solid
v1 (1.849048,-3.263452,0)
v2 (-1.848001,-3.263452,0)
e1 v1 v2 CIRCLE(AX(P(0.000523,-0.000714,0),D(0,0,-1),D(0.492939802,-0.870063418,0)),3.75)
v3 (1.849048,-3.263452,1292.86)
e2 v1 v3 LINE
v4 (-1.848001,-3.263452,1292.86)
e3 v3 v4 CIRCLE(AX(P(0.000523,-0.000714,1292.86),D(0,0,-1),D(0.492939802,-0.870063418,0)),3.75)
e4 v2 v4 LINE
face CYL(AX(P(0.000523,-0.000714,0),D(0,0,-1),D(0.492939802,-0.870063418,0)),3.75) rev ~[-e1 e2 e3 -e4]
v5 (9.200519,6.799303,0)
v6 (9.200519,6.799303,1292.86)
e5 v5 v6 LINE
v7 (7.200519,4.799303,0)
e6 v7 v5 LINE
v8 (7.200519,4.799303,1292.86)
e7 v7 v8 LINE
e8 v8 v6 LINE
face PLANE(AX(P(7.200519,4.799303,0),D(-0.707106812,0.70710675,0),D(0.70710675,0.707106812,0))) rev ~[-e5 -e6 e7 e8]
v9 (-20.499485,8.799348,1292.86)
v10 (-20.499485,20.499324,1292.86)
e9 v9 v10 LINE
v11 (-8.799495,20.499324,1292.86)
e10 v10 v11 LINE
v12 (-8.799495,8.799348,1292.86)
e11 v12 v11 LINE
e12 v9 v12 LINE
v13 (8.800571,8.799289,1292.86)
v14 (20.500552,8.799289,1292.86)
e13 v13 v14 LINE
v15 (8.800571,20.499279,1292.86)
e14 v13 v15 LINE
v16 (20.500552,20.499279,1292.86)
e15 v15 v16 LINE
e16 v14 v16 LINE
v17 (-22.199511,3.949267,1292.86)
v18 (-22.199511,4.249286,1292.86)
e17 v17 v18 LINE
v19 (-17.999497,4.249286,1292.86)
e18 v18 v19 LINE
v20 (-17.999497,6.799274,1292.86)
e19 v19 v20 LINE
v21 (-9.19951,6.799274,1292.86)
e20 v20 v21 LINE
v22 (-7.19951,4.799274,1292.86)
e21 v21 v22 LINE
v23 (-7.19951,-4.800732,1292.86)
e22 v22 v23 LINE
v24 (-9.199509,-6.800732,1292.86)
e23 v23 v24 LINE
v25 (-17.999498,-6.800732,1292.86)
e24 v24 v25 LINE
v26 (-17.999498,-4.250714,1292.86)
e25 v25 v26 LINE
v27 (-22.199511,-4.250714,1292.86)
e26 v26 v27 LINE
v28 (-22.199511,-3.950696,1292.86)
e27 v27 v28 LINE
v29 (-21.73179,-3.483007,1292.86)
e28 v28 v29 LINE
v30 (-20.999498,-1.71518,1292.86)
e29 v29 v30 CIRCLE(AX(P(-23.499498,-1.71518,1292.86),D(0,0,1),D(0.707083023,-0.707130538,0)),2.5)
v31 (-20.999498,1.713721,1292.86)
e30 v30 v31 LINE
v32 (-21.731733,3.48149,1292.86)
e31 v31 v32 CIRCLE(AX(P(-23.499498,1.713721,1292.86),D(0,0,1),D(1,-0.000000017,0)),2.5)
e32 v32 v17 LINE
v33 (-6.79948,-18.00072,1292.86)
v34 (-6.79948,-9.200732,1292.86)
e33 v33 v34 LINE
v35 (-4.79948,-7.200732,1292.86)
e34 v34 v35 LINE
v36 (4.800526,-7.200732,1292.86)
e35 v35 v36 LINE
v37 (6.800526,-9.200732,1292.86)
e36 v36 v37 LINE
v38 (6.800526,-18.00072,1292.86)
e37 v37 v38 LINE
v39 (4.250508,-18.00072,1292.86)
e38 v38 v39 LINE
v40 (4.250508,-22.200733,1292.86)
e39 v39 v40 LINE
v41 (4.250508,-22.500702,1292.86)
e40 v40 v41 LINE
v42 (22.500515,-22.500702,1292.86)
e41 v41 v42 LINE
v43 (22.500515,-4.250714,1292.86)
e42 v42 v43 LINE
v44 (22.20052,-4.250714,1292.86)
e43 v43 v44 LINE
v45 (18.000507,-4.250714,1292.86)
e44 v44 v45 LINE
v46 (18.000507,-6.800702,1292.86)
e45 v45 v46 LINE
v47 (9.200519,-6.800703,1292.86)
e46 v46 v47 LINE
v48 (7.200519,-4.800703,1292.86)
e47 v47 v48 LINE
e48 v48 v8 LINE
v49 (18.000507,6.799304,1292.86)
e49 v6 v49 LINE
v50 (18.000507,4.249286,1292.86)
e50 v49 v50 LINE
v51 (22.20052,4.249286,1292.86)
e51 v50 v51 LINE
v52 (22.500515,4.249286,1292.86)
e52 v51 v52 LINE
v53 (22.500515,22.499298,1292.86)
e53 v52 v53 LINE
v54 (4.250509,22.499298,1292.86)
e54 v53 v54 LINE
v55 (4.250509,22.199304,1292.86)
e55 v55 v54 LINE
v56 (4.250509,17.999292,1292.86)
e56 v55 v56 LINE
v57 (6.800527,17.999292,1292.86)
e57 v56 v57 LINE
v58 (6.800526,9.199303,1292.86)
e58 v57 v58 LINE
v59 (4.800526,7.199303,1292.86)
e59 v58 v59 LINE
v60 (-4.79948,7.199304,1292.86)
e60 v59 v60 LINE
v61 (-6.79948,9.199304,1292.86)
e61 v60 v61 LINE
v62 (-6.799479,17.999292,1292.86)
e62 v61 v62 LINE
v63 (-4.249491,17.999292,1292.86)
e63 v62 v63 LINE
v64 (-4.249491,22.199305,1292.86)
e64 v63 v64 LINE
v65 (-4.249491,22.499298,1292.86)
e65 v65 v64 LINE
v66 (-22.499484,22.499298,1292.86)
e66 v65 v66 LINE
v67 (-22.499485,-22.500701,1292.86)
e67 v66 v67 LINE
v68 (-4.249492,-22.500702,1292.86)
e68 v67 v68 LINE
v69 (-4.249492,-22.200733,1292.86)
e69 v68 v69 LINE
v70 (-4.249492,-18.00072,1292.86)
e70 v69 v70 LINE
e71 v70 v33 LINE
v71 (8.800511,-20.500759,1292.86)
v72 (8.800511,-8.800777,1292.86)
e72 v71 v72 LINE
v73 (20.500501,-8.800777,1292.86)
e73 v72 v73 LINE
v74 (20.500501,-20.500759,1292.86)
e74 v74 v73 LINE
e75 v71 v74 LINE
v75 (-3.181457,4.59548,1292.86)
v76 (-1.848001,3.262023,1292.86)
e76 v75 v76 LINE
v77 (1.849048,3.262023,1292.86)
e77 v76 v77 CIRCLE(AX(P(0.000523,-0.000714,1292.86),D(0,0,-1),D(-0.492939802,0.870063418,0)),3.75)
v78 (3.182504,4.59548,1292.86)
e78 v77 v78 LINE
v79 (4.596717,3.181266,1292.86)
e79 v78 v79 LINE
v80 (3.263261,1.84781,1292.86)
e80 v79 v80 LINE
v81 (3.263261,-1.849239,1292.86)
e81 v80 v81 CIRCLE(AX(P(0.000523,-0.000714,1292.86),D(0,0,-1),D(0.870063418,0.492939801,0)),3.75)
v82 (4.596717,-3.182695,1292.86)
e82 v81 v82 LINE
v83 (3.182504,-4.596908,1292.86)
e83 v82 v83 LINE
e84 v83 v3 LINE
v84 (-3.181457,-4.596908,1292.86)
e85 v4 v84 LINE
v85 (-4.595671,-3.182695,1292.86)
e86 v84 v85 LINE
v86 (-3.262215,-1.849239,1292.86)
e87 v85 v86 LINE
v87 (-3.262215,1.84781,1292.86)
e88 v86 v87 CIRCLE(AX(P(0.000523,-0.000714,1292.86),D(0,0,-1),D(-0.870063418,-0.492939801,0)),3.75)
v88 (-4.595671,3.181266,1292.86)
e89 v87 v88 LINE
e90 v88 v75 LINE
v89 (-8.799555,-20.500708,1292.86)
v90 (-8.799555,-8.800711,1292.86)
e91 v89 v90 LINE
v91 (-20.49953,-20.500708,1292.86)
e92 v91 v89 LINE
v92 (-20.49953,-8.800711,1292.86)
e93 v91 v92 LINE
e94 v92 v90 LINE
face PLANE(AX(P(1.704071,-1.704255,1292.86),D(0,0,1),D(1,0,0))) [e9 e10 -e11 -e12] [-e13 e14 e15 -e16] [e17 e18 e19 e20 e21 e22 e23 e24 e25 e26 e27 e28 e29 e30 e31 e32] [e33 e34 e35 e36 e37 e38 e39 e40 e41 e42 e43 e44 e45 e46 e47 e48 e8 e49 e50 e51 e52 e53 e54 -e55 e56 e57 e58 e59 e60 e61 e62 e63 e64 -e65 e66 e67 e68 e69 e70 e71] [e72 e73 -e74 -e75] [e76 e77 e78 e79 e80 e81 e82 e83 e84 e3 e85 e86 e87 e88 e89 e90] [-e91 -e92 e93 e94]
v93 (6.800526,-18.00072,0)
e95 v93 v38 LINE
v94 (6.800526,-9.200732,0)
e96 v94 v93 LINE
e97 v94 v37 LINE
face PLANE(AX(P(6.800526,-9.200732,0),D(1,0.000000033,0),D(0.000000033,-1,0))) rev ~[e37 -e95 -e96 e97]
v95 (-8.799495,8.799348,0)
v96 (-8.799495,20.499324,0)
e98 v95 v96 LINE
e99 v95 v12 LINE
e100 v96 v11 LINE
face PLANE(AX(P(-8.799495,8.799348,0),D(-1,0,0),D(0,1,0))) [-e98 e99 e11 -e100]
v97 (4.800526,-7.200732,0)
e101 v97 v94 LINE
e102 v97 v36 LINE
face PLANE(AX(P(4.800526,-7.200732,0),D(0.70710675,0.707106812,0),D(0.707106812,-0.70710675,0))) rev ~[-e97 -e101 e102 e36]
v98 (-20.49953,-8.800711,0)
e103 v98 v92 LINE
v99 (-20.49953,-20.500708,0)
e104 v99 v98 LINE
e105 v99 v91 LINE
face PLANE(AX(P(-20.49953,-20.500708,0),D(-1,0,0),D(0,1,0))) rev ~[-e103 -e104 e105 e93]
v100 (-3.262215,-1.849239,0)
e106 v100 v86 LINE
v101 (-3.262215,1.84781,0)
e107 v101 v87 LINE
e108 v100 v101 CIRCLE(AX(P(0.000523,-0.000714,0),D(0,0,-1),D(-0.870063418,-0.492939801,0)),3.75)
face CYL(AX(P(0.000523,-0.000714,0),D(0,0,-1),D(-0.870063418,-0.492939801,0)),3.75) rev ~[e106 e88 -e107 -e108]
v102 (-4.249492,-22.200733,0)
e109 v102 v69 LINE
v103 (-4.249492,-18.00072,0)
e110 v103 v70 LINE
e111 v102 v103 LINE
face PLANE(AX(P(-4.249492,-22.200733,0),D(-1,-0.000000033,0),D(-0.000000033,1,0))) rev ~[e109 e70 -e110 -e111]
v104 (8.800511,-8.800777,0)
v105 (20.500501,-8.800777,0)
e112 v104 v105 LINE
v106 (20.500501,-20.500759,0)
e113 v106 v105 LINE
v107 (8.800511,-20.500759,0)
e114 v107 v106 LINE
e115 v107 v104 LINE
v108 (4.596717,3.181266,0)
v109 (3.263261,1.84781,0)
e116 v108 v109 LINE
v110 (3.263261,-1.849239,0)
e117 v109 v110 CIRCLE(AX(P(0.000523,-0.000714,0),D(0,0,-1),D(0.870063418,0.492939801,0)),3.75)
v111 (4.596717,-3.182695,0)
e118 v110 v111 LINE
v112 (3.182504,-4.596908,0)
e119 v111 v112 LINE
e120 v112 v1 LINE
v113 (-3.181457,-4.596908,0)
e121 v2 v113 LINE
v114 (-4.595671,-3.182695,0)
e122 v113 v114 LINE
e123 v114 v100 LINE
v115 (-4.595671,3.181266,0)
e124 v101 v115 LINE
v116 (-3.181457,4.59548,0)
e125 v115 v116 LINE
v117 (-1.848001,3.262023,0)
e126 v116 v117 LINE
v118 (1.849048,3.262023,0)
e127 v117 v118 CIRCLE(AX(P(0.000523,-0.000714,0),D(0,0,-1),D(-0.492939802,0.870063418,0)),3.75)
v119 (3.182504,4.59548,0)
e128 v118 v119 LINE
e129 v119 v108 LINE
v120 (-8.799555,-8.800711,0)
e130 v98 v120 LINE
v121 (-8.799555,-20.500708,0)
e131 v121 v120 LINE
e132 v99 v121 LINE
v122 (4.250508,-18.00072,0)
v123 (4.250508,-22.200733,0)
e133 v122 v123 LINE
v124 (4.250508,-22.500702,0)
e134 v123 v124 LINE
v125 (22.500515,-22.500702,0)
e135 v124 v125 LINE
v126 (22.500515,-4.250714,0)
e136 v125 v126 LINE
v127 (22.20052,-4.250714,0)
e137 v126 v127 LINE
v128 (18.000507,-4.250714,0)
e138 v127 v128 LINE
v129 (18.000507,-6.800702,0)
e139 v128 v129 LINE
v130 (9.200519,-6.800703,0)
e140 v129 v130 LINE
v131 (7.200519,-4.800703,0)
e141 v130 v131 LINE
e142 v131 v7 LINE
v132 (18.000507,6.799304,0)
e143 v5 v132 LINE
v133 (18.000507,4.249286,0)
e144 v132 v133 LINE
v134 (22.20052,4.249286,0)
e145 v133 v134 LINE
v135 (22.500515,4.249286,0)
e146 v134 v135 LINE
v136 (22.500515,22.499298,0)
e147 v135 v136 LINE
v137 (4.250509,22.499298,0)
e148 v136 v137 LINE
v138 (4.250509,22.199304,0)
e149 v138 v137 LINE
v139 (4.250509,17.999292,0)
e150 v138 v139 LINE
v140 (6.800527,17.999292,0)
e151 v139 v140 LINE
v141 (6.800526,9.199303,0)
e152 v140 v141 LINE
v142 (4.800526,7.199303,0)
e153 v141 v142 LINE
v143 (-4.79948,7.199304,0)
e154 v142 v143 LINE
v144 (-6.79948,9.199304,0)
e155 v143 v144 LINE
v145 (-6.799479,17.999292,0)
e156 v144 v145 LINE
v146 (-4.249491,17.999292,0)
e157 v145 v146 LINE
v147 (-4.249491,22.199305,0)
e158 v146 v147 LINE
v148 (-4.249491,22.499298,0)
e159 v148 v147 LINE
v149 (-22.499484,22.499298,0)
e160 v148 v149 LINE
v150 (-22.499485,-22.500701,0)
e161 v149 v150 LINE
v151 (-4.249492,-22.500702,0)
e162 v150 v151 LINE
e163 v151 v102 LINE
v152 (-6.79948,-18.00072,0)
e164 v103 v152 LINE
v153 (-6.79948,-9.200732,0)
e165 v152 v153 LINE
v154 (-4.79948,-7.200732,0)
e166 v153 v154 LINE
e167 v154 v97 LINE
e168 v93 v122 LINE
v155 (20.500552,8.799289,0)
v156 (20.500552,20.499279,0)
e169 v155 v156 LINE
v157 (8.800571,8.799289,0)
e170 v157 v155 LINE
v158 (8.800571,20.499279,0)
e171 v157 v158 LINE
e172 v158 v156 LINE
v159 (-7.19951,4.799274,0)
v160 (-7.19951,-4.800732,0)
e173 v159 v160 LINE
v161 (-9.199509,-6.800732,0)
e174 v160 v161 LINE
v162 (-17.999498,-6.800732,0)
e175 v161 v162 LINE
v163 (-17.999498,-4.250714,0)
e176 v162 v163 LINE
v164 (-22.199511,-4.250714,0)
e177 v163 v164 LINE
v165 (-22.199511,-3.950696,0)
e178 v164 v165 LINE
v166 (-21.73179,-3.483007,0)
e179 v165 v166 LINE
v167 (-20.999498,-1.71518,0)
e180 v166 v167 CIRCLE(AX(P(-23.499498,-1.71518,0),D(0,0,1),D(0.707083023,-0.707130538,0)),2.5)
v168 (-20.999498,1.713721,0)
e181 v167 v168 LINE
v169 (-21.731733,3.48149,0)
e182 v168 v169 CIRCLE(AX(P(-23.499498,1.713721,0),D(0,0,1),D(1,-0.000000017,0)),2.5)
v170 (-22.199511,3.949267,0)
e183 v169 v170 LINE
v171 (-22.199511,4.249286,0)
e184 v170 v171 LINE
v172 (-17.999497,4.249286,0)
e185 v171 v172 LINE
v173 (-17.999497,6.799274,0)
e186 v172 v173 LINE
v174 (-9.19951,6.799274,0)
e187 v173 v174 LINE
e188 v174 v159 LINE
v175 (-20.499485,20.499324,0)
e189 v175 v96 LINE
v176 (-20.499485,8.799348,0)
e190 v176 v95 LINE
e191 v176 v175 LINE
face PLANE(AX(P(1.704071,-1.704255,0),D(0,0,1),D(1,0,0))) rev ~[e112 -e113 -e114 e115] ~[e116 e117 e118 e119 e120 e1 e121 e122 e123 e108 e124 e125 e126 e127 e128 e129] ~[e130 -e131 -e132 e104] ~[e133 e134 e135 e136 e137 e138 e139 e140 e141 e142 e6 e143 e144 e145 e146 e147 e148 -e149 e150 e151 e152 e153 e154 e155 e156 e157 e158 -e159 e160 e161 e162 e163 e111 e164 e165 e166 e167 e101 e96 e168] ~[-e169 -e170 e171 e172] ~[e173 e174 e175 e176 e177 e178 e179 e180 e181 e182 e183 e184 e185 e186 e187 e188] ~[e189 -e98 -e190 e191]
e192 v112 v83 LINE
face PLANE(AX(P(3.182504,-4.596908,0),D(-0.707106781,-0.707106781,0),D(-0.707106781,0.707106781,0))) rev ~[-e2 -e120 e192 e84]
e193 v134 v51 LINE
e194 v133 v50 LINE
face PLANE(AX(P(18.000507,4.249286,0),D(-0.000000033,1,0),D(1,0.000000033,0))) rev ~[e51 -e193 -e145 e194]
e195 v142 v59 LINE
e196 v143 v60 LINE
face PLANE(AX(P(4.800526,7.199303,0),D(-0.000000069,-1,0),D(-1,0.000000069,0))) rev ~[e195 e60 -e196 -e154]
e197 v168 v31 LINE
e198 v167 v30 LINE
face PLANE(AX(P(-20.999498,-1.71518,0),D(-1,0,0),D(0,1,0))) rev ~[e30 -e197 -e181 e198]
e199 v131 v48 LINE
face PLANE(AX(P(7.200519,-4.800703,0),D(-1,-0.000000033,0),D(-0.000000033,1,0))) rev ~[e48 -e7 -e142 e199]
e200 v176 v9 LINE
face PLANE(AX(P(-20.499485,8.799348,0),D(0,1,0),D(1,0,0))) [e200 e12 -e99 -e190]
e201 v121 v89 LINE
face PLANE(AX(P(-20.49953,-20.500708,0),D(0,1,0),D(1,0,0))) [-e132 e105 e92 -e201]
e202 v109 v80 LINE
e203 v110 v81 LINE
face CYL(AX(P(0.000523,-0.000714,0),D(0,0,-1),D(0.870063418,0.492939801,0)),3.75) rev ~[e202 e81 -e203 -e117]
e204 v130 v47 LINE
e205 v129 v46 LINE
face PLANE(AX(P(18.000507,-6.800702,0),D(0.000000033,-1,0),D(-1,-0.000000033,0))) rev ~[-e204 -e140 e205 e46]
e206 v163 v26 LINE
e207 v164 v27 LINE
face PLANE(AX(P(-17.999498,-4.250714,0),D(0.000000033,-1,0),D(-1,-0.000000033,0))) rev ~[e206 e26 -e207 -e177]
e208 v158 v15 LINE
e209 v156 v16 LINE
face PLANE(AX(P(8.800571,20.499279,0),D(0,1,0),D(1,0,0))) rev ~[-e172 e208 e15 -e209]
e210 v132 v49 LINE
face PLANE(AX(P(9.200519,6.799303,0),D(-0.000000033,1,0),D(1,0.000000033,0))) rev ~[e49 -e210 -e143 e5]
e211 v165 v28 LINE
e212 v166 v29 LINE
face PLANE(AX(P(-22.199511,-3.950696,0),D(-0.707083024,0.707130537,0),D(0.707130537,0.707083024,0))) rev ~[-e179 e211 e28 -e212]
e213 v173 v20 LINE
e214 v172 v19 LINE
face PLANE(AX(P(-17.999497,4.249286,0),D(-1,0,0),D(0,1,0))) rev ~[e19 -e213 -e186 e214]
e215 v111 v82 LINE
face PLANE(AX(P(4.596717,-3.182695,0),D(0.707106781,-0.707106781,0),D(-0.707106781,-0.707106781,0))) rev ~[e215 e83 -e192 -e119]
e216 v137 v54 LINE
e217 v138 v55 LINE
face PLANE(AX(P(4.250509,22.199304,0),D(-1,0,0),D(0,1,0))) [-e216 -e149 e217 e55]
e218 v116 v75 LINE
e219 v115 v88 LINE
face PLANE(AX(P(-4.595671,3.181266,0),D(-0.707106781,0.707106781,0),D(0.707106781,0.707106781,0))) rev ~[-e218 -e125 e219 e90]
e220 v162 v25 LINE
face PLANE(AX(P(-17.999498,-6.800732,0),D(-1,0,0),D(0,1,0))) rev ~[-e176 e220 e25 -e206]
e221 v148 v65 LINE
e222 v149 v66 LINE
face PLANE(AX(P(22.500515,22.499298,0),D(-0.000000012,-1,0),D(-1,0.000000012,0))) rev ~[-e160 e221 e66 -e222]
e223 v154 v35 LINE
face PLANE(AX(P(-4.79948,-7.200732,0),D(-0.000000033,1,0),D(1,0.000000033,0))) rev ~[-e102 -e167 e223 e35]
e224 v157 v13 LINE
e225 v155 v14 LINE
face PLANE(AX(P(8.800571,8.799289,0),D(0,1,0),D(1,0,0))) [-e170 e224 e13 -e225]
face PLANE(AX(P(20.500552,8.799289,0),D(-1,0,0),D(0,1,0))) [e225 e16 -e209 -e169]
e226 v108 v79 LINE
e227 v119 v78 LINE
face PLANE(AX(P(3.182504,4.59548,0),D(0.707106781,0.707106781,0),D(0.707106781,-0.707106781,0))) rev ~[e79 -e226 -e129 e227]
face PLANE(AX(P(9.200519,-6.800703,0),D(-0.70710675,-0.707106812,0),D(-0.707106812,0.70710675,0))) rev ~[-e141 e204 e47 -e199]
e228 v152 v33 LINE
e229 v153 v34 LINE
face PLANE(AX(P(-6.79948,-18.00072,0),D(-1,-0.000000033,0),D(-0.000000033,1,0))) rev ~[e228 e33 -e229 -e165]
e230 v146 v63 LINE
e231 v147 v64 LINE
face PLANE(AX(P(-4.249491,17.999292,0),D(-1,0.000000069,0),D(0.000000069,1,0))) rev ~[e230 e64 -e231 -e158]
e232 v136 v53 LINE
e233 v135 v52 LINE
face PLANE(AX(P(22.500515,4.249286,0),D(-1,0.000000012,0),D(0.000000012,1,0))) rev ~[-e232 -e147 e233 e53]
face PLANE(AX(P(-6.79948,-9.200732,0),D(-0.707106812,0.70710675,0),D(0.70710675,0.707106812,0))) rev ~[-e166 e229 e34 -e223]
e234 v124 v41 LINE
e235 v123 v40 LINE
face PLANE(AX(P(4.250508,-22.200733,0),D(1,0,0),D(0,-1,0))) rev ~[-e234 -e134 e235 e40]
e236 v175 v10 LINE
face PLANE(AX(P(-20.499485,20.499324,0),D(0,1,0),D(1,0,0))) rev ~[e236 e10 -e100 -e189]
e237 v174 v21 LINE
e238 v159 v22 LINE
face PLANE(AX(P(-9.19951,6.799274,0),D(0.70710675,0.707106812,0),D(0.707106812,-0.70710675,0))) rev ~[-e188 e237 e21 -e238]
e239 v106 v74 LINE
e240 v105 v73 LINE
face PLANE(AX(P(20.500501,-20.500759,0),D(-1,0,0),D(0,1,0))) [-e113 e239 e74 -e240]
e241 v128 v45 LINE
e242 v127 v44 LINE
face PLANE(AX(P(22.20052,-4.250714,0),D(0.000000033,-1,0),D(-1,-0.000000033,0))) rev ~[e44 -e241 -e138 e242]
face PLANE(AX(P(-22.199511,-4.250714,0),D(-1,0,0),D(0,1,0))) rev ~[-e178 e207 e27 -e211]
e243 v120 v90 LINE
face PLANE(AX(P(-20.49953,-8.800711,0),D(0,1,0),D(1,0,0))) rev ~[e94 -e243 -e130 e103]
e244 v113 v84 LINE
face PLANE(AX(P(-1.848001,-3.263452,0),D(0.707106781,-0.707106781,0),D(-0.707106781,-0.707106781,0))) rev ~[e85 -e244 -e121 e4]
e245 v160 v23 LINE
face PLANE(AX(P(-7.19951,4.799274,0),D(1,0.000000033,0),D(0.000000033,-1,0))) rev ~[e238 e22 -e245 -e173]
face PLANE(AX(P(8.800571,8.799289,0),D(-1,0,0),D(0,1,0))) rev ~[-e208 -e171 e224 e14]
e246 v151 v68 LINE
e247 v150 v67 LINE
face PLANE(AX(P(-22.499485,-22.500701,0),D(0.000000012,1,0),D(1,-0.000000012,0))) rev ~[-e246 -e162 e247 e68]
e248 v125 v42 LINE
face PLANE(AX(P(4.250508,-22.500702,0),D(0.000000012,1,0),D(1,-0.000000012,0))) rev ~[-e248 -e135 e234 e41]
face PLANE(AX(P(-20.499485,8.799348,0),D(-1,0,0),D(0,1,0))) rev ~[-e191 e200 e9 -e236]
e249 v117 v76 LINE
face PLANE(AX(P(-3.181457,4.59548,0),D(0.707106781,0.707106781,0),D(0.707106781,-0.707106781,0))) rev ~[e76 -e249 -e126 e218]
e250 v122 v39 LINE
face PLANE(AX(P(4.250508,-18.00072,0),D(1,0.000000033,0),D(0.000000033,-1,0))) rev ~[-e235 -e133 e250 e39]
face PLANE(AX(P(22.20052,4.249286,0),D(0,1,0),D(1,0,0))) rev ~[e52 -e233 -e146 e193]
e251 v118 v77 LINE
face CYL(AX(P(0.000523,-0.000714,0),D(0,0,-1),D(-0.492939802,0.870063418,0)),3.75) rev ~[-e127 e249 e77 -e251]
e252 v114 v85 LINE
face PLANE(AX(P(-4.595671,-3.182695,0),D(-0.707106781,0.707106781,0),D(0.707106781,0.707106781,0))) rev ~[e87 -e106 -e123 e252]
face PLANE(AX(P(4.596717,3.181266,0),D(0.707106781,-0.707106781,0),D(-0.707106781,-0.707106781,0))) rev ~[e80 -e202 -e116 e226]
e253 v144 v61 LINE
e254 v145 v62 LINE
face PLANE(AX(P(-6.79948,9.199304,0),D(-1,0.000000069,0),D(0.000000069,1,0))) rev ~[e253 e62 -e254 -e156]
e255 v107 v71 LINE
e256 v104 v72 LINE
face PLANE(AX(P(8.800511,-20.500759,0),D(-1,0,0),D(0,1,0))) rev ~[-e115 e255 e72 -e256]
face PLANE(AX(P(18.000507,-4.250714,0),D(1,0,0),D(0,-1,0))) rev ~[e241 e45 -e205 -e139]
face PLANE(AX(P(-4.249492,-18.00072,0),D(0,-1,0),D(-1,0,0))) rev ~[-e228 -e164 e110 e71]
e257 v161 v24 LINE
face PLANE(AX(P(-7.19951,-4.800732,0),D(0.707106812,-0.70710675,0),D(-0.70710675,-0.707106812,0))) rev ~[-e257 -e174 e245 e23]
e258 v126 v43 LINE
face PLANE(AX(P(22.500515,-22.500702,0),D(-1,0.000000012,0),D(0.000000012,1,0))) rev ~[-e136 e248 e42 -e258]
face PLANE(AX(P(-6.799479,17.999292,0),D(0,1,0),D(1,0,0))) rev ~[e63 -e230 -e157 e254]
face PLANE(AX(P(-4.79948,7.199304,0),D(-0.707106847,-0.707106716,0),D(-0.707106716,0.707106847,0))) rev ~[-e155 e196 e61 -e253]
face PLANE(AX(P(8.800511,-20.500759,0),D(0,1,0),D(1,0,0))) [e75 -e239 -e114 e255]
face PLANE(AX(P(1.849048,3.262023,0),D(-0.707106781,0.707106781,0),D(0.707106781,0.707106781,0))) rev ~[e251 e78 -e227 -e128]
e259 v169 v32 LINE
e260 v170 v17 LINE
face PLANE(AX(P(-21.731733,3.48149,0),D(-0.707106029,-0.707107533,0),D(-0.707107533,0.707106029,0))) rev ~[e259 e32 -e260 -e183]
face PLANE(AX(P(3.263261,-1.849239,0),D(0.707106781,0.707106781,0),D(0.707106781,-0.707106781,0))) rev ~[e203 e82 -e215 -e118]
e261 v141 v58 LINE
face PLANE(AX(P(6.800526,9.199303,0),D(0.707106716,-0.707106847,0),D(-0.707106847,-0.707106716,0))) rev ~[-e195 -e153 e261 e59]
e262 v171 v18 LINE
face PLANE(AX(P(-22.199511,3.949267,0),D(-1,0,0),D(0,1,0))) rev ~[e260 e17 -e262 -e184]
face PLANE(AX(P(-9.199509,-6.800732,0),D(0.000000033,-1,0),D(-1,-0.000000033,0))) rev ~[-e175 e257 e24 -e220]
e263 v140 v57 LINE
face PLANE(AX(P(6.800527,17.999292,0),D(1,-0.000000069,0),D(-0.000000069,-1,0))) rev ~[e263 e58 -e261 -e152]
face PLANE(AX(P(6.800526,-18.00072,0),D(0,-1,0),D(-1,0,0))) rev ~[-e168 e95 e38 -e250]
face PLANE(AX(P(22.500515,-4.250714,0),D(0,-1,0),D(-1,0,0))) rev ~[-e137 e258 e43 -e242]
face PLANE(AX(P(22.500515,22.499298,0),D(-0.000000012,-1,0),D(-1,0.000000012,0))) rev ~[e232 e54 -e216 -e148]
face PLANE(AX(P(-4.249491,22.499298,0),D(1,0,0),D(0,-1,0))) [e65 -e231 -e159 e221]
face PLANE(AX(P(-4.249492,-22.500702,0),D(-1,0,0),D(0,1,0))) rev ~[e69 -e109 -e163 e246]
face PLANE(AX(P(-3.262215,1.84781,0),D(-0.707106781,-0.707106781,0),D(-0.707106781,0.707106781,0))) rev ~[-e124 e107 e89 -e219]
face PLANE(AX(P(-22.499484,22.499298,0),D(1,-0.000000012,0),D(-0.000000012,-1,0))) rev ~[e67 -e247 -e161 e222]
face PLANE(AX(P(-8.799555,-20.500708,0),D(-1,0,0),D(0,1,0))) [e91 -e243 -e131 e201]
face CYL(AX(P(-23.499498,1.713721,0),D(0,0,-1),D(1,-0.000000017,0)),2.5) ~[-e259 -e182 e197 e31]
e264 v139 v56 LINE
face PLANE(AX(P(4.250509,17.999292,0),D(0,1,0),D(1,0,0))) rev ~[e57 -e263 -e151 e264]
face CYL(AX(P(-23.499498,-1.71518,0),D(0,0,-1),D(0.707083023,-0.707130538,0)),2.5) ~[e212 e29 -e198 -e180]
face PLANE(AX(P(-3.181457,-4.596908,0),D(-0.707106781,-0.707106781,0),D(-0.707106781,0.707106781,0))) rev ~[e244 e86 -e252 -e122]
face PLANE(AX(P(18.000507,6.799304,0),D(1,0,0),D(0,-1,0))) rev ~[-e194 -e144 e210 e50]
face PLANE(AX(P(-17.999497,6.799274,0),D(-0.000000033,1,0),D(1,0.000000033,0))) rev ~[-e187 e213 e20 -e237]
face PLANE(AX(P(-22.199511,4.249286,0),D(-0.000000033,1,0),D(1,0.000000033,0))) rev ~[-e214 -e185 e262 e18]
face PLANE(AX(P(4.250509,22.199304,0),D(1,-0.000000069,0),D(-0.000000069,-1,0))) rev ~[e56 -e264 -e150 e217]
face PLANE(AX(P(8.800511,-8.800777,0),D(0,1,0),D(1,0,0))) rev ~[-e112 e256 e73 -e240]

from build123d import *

# Parameters (mm, degrees)
SKETCH1_W           = 11.699975178
SKETCH1_H           = 11.699996949
SKETCH1_W_2         = 11.699990436
SKETCH1_H_2         = 11.699981689
SKETCH1_W_3         = 11.699990437
SKETCH1_H_3         = 11.699975177
SKETCH1_W_4         = 11.699981689
SKETCH1_H_4         = 11.699990436
BOSS_EXTRUDE1_DEPTH = 1292.86
CUT_EXTRUDE1_REACH  = 1295.252


with BuildPart() as part:
    # Sketch1 → Boss-Extrude1 (new body)
    with BuildSketch(Plane.XY):
        Polygon((22.500515052, 22.499297556), (-22.499484399, 22.499298105), (-22.499484948, -22.500701346), (-4.249491942, -22.500701568), (-4.249491942, -22.200733242), (-4.24949208, -18.000719999), (-6.799479919, -18.000719999), (-6.799480207, -9.200732353), (-4.799480391, -7.200732362), (4.800525817, -7.200732047), (6.8005258, -9.200731855), (6.800526088, -18.000720263), (4.250507877, -18.000720263), (4.250508015, -22.200733153), (4.250508015, -22.500701672), (22.500514502, -22.500701895), (22.500514725, -4.250714302), (22.200520351, -4.250714302), (18.000507108, -4.25071444), (18.000507108, -6.800702279), (9.200519462, -6.800702567), (7.200519471, -4.800702751), (7.200519156, 4.799303458), (9.200518964, 6.79930344), (18.000507424, 6.799303729), (18.000507424, 4.249285514), (22.200520261, 4.249285652), (22.500514829, 4.249285652), align=None)
        with BuildLine():
            Line((-4.249491247, 17.999291576), (-4.249490956, 22.199304807))
            Line((-4.249490956, 22.199304807), (-3.949472548, 22.199304807))
            Line((-3.949472548, 22.199304807), (-3.481695222, 21.73152644))
            ThreePointArc((-3.481695222, 21.73152644), (-2.670636178, 21.189593132), (-1.713926324, 20.999291428))
            Line((-1.713926324, 20.999291428), (1.714975167, 20.999291428))
            ThreePointArc((1.714975167, 20.999291428), (2.671722509, 21.189608628), (3.482801459, 21.731583767))
            Line((3.482801459, 21.731583767), (3.950490798, 22.199304487))
            Line((3.950490798, 22.199304487), (4.250509108, 22.199304487))
            Line((4.250509108, 22.199304487), (4.250508817, 17.999291575))
            Line((4.250508817, 17.999291575), (6.800527063, 17.999291575))
            Line((6.800527063, 17.999291575), (6.800526453, 9.199302988))
            Line((6.800526453, 9.199302988), (4.800526064, 7.199302969))
            Line((4.800526064, 7.199302969), (-4.799479817, 7.199303635))
            Line((-4.799479817, 7.199303635), (-6.799479854, 9.199304042))
            Line((-6.799479854, 9.199304042), (-6.799479244, 17.999291576))
            Line((-6.799479244, 17.999291576), (-4.249491247, 17.999291576))
        make_face(mode=Mode.SUBTRACT)
        with BuildLine():
            Line((-17.99949762, -4.250714253), (-22.199510799, -4.250714391))
            Line((-22.199510799, -4.250714391), (-22.199510799, -3.950696126))
            Line((-22.199510799, -3.950696126), (-21.731790056, -3.48300681))
            ThreePointArc((-21.731790056, -3.48300681), (-21.189814855, -2.671927844), (-20.999497617, -1.71518046))
            Line((-20.999497617, -1.71518046), (-20.999497617, 1.713721031))
            ThreePointArc((-20.999497617, 1.713721031), (-21.189799286, 2.670430863), (-21.731732544, 3.481489907))
            Line((-21.731732544, 3.481489907), (-22.199510888, 3.949267256))
            Line((-22.199510888, 3.949267256), (-22.199510888, 4.249285566))
            Line((-22.199510888, 4.249285566), (-17.999497356, 4.249285704))
            Line((-17.999497356, 4.249285704), (-17.999497356, 6.79927354))
            Line((-17.999497356, 6.79927354), (-9.199509947, 6.799273828))
            Line((-9.199509947, 6.799273828), (-7.199509956, 4.799274012))
            Line((-7.199509956, 4.799274012), (-7.199509641, -4.800732197))
            Line((-7.199509641, -4.800732197), (-9.199509449, -6.800732179))
            Line((-9.199509449, -6.800732179), (-17.99949762, -6.800732468))
            Line((-17.99949762, -6.800732468), (-17.99949762, -4.250714253))
        make_face(mode=Mode.SUBTRACT)
        with Locations((-14.649542346, -14.650709384)):
            Rectangle(SKETCH1_W, SKETCH1_H, mode=Mode.SUBTRACT)
        with Locations((14.65050626, -14.650767962)):
            Rectangle(SKETCH1_W_2, SKETCH1_H_2, mode=Mode.SUBTRACT)
        with BuildLine():
            Line((-3.181457266, -4.596908447), (-4.595670829, -3.182694885))
            Line((-4.595670829, -3.182694885), (-3.26221457, -1.849238626))
            ThreePointArc((-3.26221457, -1.849238626), (-3.749476751, -0.00071437), (-3.26221457, 1.847809887))
            Line((-3.26221457, 1.847809887), (-4.595670829, 3.181266146))
            Line((-4.595670829, 3.181266146), (-3.181457266, 4.595479708))
            Line((-3.181457266, 4.595479708), (-1.848001007, 3.262023449))
            ThreePointArc((-1.848001007, 3.262023449), (0.000523249, 3.74928563), (1.849047505, 3.262023449))
            Line((1.849047505, 3.262023449), (3.182503764, 4.595479708))
            Line((3.182503764, 4.595479708), (4.596717327, 3.181266146))
            Line((4.596717327, 3.181266146), (3.263261068, 1.847809887))
            ThreePointArc((3.263261068, 1.847809887), (3.750523249, -0.00071437), (3.263261068, -1.849238626))
            Line((3.263261068, -1.849238626), (4.596717327, -3.182694885))
            Line((4.596717327, -3.182694885), (3.182503764, -4.596908447))
            Line((3.182503764, -4.596908447), (1.849047505, -3.263452188))
            ThreePointArc((1.849047505, -3.263452188), (0.000523249, -3.75071437), (-1.848001007, -3.263452188))
            Line((-1.848001007, -3.263452188), (-3.181457266, -4.596908447))
        make_face(mode=Mode.SUBTRACT)
        with Locations((-14.64949028, 14.649335967)):
            Rectangle(SKETCH1_W_3, SKETCH1_H_3, mode=Mode.SUBTRACT)
        with Locations((14.650561583, 14.6492839)):
            Rectangle(SKETCH1_W_4, SKETCH1_H_4, mode=Mode.SUBTRACT)
    extrude(amount=BOSS_EXTRUDE1_DEPTH)

    # Sketch1<4> → Cut-Extrude1 (cut, up to next)
    with BuildSketch(Plane.XY, mode=Mode.PRIVATE) as cut_extrude1_sk1:
        with BuildLine():
            Line((-4.249490956, 22.499297883), (-4.249490956, 22.199304807))
            Line((-4.249490956, 22.199304807), (-3.949472548, 22.199304807))
            Line((-3.949472548, 22.199304807), (-3.481695222, 21.73152644))
            ThreePointArc((-3.481695222, 21.73152644), (-2.670636178, 21.189593132), (-1.713926324, 20.999291428))
            Line((-1.713926324, 20.999291428), (1.714975167, 20.999291428))
            ThreePointArc((1.714975167, 20.999291428), (2.671722509, 21.189608628), (3.482801459, 21.731583767))
            Line((3.482801459, 21.731583767), (3.950490798, 22.199304487))
            Line((3.950490798, 22.199304487), (4.250509108, 22.199304487))
            Line((4.250509108, 22.199304487), (4.250509108, 22.499297779))
            Line((4.250509108, 22.499297779), (-4.249490956, 22.499297883))
        make_face()
    cut_extrude1_tool1 = extrude(cut_extrude1_sk1.sketch, amount=CUT_EXTRUDE1_REACH, mode=Mode.PRIVATE) & part.part
    add(cut_extrude1_tool1.solids().sort_by_distance((0.000518, 21.824215, 0))[0], mode=Mode.SUBTRACT)


solid = part.part
